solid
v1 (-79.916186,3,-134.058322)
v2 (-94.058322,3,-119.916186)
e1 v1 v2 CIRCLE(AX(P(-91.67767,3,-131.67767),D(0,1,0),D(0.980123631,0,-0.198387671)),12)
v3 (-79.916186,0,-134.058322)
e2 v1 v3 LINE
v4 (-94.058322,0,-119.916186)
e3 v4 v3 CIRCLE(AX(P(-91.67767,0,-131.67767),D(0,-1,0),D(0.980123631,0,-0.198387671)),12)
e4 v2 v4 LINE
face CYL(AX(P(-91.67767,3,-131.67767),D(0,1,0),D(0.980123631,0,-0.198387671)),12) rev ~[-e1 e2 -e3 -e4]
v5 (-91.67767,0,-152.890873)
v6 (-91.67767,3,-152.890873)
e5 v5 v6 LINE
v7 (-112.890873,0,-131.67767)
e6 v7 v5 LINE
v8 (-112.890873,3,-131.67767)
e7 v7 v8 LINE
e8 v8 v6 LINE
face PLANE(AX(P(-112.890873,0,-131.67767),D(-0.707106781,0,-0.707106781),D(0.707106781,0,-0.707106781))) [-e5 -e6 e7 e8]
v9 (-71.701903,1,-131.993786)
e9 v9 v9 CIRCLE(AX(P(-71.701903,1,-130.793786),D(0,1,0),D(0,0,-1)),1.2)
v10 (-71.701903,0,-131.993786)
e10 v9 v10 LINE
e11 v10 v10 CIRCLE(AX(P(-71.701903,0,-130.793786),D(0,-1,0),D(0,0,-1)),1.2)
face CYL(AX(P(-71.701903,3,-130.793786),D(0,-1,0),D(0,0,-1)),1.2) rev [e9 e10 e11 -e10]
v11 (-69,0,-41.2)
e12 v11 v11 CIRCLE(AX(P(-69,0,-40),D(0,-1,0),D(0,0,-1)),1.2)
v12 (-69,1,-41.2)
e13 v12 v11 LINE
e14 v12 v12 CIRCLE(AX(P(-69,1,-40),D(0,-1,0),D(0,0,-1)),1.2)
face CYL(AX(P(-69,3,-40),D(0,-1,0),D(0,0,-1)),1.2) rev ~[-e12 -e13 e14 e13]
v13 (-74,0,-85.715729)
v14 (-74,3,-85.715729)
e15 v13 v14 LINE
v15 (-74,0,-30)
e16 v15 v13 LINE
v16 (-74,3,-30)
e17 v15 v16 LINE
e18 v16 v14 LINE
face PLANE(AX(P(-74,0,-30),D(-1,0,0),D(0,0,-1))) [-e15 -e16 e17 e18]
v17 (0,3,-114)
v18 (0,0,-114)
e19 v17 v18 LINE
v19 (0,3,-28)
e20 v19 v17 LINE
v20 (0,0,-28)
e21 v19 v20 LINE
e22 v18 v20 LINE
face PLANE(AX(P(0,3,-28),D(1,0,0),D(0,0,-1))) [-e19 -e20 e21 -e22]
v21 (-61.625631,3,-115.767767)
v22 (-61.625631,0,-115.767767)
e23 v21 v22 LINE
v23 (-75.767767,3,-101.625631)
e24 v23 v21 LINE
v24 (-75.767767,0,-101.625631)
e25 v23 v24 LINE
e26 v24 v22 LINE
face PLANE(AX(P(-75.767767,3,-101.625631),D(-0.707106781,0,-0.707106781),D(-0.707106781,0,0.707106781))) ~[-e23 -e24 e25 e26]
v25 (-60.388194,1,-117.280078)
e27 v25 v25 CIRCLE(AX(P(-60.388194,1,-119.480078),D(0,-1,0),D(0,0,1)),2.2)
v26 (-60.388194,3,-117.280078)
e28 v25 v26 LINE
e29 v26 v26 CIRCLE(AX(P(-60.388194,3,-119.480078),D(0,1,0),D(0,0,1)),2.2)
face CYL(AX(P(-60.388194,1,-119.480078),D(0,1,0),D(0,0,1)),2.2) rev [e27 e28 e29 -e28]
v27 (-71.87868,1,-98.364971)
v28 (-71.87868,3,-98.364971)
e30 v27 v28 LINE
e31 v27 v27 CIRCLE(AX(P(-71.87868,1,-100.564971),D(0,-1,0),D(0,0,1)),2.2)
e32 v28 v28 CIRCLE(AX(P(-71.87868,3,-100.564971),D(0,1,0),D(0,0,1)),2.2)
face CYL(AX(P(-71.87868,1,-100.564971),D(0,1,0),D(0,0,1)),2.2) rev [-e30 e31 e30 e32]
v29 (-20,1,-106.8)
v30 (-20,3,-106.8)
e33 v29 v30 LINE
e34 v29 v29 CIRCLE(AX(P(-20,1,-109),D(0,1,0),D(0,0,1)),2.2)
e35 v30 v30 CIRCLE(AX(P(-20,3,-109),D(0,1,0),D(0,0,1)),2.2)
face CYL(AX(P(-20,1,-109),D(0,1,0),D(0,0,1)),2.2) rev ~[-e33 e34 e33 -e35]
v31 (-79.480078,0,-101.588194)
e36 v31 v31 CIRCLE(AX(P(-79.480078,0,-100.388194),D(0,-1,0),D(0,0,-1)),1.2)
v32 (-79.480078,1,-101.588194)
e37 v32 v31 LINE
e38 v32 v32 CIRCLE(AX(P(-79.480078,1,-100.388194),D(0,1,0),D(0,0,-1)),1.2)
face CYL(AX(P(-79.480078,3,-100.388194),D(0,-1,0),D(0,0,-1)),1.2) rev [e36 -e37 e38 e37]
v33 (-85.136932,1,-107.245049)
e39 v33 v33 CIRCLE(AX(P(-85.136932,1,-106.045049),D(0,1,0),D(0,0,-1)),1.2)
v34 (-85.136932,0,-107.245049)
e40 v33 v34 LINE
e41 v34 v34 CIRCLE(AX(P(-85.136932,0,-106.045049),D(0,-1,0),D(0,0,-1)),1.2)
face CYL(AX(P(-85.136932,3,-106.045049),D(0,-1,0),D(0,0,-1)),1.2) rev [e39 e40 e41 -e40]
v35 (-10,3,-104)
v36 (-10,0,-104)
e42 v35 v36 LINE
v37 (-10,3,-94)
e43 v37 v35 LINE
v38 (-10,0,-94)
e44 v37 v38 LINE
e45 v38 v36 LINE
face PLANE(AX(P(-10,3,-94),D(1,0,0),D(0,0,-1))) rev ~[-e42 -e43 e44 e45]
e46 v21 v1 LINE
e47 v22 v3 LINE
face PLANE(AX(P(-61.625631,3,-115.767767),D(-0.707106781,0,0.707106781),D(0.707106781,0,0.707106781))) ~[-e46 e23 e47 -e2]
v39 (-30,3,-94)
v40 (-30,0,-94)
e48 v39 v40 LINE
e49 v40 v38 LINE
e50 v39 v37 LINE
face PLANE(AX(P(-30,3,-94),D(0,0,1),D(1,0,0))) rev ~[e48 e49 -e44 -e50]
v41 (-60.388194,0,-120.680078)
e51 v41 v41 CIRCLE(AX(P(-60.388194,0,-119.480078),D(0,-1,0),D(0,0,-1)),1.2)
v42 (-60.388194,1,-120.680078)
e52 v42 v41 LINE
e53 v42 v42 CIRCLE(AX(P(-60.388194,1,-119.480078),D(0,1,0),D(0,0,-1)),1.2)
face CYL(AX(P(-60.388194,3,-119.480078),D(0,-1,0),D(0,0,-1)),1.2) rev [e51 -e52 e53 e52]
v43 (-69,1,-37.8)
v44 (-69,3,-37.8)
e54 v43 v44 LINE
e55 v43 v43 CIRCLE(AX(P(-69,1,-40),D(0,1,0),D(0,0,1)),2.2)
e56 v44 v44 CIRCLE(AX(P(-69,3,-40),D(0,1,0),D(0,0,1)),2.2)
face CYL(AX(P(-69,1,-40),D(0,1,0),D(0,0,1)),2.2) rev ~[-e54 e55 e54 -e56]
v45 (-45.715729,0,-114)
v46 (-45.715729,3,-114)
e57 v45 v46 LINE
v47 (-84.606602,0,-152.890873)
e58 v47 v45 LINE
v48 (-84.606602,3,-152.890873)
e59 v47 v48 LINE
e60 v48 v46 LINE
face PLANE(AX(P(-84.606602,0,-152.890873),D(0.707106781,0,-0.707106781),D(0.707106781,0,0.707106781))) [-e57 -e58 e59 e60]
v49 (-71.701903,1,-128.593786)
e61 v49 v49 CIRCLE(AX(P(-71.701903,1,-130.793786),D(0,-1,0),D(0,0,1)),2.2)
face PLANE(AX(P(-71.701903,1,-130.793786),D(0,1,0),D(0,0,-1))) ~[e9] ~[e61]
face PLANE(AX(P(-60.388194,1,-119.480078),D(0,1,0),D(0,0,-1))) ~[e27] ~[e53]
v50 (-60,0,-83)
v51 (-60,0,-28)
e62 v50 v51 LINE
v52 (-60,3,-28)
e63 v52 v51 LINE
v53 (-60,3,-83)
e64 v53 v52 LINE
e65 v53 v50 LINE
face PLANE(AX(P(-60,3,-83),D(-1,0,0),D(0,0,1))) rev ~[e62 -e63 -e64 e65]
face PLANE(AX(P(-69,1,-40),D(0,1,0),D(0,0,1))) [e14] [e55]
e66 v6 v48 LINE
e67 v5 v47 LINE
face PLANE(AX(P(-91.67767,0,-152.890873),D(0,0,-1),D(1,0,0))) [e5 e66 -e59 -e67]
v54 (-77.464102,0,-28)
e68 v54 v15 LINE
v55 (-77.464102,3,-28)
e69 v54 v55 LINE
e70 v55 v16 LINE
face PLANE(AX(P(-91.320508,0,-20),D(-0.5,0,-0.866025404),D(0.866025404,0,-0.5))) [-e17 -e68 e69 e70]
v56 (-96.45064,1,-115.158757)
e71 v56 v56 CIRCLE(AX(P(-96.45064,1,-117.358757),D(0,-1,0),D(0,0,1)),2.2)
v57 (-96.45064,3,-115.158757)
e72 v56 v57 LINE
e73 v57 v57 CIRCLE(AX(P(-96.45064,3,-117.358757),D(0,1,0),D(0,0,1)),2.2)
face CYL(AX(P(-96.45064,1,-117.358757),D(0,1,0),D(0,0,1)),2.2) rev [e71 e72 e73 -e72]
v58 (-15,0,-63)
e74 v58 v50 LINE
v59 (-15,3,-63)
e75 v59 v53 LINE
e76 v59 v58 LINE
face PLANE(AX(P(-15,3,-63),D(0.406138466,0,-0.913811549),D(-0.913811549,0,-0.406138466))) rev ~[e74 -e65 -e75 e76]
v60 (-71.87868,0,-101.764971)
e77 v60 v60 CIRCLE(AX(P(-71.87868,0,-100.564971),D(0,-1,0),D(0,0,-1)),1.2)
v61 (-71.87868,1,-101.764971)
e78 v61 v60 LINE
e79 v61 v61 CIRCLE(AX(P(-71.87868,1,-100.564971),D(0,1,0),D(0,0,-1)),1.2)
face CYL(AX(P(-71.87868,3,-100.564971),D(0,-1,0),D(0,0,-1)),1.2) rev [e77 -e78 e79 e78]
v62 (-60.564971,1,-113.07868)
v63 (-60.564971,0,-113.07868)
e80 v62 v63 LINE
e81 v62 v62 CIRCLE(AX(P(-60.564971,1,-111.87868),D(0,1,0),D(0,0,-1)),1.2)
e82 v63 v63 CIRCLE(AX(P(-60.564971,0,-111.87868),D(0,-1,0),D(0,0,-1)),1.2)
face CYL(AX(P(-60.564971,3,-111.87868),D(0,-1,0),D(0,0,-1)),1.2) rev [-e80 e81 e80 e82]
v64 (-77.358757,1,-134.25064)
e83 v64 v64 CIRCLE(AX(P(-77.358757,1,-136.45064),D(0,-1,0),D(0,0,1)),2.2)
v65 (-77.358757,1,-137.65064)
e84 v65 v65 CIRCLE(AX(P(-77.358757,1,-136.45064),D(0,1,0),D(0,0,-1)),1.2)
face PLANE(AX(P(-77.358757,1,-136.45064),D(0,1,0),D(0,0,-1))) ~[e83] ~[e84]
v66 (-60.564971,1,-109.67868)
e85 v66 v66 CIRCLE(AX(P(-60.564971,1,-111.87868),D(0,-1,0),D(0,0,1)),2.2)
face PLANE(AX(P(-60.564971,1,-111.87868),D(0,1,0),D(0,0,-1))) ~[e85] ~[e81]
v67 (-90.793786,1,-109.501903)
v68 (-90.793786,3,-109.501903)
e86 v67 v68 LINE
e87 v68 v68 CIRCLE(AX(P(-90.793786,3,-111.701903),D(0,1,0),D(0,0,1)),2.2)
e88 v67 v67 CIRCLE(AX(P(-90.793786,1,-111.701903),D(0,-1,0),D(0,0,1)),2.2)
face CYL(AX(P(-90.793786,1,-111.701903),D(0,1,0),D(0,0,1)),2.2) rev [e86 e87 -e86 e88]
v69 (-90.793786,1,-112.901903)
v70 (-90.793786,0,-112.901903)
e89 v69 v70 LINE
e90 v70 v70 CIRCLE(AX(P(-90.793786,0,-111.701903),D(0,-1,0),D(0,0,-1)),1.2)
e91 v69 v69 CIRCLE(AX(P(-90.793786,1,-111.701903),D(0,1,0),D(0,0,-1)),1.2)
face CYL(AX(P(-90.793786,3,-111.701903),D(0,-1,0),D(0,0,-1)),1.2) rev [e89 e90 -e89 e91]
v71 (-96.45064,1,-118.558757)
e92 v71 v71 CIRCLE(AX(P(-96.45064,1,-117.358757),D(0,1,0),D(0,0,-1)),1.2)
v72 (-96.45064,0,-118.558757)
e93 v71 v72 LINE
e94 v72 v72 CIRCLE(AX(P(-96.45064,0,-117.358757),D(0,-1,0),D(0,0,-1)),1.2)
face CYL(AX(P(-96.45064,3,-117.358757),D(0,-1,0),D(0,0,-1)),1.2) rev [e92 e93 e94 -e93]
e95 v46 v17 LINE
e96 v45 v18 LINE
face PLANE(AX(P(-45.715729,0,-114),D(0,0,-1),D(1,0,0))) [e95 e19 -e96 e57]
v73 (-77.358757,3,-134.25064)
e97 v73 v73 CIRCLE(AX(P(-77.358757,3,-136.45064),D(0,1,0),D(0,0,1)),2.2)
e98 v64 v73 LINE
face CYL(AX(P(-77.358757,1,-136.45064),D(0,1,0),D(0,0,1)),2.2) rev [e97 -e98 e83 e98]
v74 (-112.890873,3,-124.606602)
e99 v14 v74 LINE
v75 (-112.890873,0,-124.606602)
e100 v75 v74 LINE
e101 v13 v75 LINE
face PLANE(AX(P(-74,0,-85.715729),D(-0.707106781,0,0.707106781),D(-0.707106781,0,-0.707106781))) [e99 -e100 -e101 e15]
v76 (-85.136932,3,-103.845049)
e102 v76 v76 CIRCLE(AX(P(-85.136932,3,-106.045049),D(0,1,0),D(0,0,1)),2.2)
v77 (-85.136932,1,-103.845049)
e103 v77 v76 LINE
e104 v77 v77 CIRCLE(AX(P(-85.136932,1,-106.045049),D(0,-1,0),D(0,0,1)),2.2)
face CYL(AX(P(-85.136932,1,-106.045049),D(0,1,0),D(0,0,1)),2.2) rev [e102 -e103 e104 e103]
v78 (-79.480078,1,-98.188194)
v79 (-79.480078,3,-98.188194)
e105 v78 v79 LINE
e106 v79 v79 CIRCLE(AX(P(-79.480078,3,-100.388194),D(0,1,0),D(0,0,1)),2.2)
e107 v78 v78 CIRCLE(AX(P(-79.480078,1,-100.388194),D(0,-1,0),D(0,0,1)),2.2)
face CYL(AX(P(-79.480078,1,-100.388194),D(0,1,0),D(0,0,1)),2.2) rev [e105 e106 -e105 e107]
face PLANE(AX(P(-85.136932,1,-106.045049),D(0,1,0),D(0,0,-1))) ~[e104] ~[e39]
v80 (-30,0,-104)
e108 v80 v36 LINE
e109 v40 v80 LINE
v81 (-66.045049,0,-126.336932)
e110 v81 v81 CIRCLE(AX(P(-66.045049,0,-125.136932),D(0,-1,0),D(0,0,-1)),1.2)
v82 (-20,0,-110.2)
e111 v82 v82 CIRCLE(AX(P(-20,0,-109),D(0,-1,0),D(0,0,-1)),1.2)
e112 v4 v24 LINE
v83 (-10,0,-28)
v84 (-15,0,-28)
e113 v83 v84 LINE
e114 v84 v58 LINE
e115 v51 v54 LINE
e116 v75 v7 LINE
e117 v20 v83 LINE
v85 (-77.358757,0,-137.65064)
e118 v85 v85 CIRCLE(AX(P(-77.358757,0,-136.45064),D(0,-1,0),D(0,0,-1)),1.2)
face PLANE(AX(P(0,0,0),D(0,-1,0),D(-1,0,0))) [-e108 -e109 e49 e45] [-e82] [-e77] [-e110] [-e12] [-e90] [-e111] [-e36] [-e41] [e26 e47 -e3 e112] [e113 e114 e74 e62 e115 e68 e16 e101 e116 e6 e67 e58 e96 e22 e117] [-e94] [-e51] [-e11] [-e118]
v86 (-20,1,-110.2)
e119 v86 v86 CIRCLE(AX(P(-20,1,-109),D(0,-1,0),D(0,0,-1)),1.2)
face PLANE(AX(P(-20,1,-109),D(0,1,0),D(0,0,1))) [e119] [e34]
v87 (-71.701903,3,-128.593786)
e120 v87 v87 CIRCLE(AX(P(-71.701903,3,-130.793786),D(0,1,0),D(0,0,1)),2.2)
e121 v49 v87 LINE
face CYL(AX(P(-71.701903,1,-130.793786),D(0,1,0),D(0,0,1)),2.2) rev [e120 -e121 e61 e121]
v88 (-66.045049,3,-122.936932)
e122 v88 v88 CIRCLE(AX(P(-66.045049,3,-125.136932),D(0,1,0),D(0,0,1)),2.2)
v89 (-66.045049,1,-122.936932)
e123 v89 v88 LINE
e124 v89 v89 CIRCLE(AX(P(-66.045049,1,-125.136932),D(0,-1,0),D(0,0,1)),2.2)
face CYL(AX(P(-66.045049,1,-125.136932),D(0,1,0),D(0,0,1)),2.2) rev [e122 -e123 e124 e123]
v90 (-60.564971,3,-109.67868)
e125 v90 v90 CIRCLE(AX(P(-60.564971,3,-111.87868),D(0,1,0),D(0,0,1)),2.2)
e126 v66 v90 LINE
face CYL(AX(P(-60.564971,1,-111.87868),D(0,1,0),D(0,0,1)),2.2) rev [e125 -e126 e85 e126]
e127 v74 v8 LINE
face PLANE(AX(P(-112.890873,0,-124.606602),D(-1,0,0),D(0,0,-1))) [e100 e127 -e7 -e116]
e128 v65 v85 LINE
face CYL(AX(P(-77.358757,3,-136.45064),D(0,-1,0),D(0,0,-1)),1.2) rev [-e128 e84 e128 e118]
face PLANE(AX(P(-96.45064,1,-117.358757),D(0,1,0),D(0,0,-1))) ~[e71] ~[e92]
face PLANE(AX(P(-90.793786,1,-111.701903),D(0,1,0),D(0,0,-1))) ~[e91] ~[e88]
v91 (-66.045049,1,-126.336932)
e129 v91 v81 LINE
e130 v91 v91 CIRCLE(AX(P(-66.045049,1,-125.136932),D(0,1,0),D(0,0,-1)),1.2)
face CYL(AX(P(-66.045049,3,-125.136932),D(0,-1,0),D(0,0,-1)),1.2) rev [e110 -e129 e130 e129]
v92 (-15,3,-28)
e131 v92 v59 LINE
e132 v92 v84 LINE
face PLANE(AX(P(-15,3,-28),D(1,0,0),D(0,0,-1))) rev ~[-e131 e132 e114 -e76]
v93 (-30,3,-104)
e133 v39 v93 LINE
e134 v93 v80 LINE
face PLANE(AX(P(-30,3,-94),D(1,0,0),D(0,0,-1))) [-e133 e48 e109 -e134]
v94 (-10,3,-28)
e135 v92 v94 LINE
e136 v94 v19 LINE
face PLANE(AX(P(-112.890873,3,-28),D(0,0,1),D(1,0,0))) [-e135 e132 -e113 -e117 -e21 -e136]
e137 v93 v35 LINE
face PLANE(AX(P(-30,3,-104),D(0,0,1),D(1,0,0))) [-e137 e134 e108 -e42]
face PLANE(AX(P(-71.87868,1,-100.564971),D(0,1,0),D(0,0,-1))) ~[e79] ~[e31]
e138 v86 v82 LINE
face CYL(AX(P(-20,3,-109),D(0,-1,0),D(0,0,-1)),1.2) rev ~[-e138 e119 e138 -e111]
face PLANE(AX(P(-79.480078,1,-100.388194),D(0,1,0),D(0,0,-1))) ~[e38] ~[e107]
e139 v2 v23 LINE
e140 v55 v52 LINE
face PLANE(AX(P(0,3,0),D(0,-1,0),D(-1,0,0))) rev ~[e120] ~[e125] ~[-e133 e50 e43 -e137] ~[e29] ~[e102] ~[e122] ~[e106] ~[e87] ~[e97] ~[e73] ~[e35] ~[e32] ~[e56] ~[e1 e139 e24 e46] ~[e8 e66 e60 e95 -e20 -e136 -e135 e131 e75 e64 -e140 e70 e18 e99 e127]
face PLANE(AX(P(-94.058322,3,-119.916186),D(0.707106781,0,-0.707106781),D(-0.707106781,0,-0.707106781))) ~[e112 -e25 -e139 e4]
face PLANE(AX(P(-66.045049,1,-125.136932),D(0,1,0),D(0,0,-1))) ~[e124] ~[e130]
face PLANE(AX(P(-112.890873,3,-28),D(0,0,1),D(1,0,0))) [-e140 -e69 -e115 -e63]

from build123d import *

# Parameters (mm, degrees)
EXTRUDE_1_DEPTH              = 3
CUT_EXTRUDE_1_REACH          = 217.134
HOLE_WIZARD_M2_2_D           = 2.4
HOLE_WIZARD_M2_2_CBORE_D     = 4.4
HOLE_WIZARD_M2_2_CBORE_DEPTH = 2
CUT_EXTRUDE_2_REACH          = 217.134
HOLE_WIZARD_M2_3_D           = 2.4
HOLE_WIZARD_M2_3_CBORE_D     = 4.4
HOLE_WIZARD_M2_3_CBORE_DEPTH = 2
MIRROR_7_COPY_1_REACH        = 217.134
MIRROR_7_COPY_2_D            = 2.4
MIRROR_7_COPY_2_CBORE_D      = 4.4
MIRROR_7_COPY_2_CBORE_DEPTH  = 2
CUT_EXTRUDE_3_REACH          = 217.134
SKETCH_18_W                  = 20
SKETCH_18_H                  = 10
HOLE_WIZARD_M2_4_D           = 2.4
HOLE_WIZARD_M2_4_CBORE_D     = 4.4
HOLE_WIZARD_M2_4_CBORE_DEPTH = 2
HOLE_WIZARD_M2_5_D           = 2.4
HOLE_WIZARD_M2_5_CBORE_D     = 4.4
HOLE_WIZARD_M2_5_CBORE_DEPTH = 2
HOLE_WIZARD_M2_6_D           = 2.4
HOLE_WIZARD_M2_6_CBORE_D     = 4.4
HOLE_WIZARD_M2_6_CBORE_DEPTH = 2
SKETCH_24_W                  = 20
SKETCH_24_H                  = 56
CUT_EXTRUDE_4_DEPTH          = 10
HOLE_WIZARD_M2_7_D           = 2.4
HOLE_WIZARD_M2_7_CBORE_D     = 4.4
HOLE_WIZARD_M2_7_CBORE_DEPTH = 2
SKETCH_26_OUTSIDE_W          = 390.69
SKETCH_26_OUTSIDE_H          = 393.83
SKETCH_26_OUTSIDE_W_2        = 112.890872965
SKETCH_26_OUTSIDE_H_2        = 124.890872965
CUT_EXTRUDE_5_DEPTH          = 10


with BuildPart() as part:
    # 草图1 → 凸台-拉伸1 (new body)
    with BuildSketch(Plane(origin=(0, 0, 0), x_dir=(1, 0, 0), z_dir=(0, 1, 0))):
        Polygon((-45.715728753, 114), (45.715728753, 114), (84.606601718, 152.890872965), (91.67766953, 152.890872965), (112.890872965, 131.67766953), (112.890872965, 124.606601718), (74, 85.715728753), (74, 30), (91.320508076, 20), (146.320508076, 20), (151.320508076, 15), (151.320508076, -15), (146.320508076, -20), (91.320508076, -20), (74, -30), (74, -85.715728753), (112.890872965, -124.606601718), (112.890872965, -131.67766953), (91.67766953, -152.890872965), (84.606601718, -152.890872965), (45.715728753, -114), (-45.715728753, -114), (-84.606601718, -152.890872965), (-91.67766953, -152.890872965), (-112.890872965, -131.67766953), (-112.890872965, -124.606601718), (-74, -85.715728753), (-74, -30), (-91.320508076, -20), (-146.320508076, -20), (-151.320508076, -15), (-151.320508076, 15), (-146.320508076, 20), (-91.320508076, 20), (-74, 30), (-74, 85.715728753), (-112.890872965, 124.606601718), (-112.890872965, 131.67766953), (-91.67766953, 152.890872965), (-84.606601718, 152.890872965), align=None)
    extrude(amount=EXTRUDE_1_DEPTH)

    # 草图2 → 切除-拉伸1 (cut, up to next)
    with BuildSketch(Plane(origin=(0, 3, 0), x_dir=(1, 0, 0), z_dir=(0, 1, 0)), mode=Mode.PRIVATE) as cut_extrude_1_sk1:
        with BuildLine():
            Line((103.820508076, -10), (103.820508076, 10))
            Line((103.820508076, 10), (129.687258495, 10))
            ThreePointArc((129.687258495, 10), (148.320508076, 0), (129.687258495, -10))
            Line((129.687258495, -10), (103.820508076, -10))
        make_face()
    cut_extrude_1_tool1 = extrude(cut_extrude_1_sk1.sketch, amount=-CUT_EXTRUDE_1_REACH, mode=Mode.PRIVATE) & part.part
    cut_extrude_1 = cut_extrude_1_tool1.solids().sort_by_distance((125.74589, 3, 0))[0]
    add(cut_extrude_1, mode=Mode.SUBTRACT)

    # M2 凹头盖螺钉的柱形沉头孔2 (through all)
    with Locations(Plane(origin=(100.320508076, 3, -8), x_dir=(0, 0, 1), z_dir=(0, 1, 0))):
        with Locations((0, 0), (-5.5, 5.25), (-5.5, 13.25), (-5.5, 21.25), (-5.5, 29.25), (16, 0), (21.5, 5.25), (21.5, 13.25), (21.5, 21.25), (21.5, 29.25)):
            hole_wizard_m2_2 = CounterBoreHole(HOLE_WIZARD_M2_2_D / 2, HOLE_WIZARD_M2_2_CBORE_D / 2, HOLE_WIZARD_M2_2_CBORE_DEPTH)

    # 草图10 → 切除-拉伸2 (cut, up to next)
    with BuildSketch(Plane(origin=(0, 3, 0), x_dir=(1, 0, 0), z_dir=(0, 1, 0)), mode=Mode.PRIVATE) as cut_extrude_2_sk1:
        with BuildLine():
            Line((75.767766953, 101.625631329), (61.625631329, 115.767766953))
            Line((61.625631329, 115.767766953), (79.916185958, 134.058321582))
            ThreePointArc((79.916185958, 134.058321582), (100.162950904, 140.162950904), (94.058321582, 119.916185958))
            Line((94.058321582, 119.916185958), (75.767766953, 101.625631329))
        make_face()
    cut_extrude_2_tool1 = extrude(cut_extrude_2_sk1.sketch, amount=-CUT_EXTRUDE_2_REACH, mode=Mode.PRIVATE) & part.part
    cut_extrude_2 = cut_extrude_2_tool1.solids().sort_by_distance((84.200285, 3, -124.200285))[0]
    add(cut_extrude_2, mode=Mode.SUBTRACT)

    # M2 凹头盖螺钉的柱形沉头孔3 (through all)
    with Locations(Plane(origin=(60.388194462, 3, -119.480077554), x_dir=(0, 0, 1), z_dir=(0, 1, 0))):
        with Locations((0, 0), (-5.65685425, 5.65685425), (-11.313708499, 11.313708499), (-16.970562749, 16.970562749), (7.601397898, 0.176776695), (18.915106397, 11.490485194), (19.091883092, 19.091883092), (13.435028842, 24.748737342), (7.778174593, 30.405591591), (2.121320343, 36.062445841)):
            hole_wizard_m2_3 = CounterBoreHole(HOLE_WIZARD_M2_3_D / 2, HOLE_WIZARD_M2_3_CBORE_D / 2, HOLE_WIZARD_M2_3_CBORE_DEPTH)

    # 镜向5: 切除-拉伸1, M2 凹头盖螺钉的柱形沉头孔2 across plane
    add(cut_extrude_1.mirror(Plane(origin=(0, 0, 0), x_dir=(0, 0, 1), z_dir=(1, 0, 0))), mode=Mode.SUBTRACT)
    add(hole_wizard_m2_2.mirror(Plane(origin=(0, 0, 0), x_dir=(0, 0, 1), z_dir=(1, 0, 0))), mode=Mode.SUBTRACT)

    # 镜向6: 切除-拉伸2, M2 凹头盖螺钉的柱形沉头孔3 across plane
    add(cut_extrude_2.mirror(Plane(origin=(0, 0, 0), x_dir=(0, 0, 1), z_dir=(1, 0, 0))), mode=Mode.SUBTRACT)
    add(hole_wizard_m2_3.mirror(Plane(origin=(0, 0, 0), x_dir=(0, 0, 1), z_dir=(1, 0, 0))), mode=Mode.SUBTRACT)

    # 镜向7: 切除-拉伸2, M2 凹头盖螺钉的柱形沉头孔3 across plane
    add(cut_extrude_2.mirror(Plane.XY), mode=Mode.SUBTRACT)
    add(hole_wizard_m2_3.mirror(Plane.XY), mode=Mode.SUBTRACT)

    # 镜向7 copy 1 sketch → 镜向7 copy 1 (cut, up to next)
    with BuildSketch(Plane(origin=(0, 3, 0), x_dir=(-1, 0, 0), z_dir=(0, 1, 0)), mode=Mode.PRIVATE) as mirror_7_copy_1_sk1:
        with BuildLine():
            Line((75.767766953, 101.625631329), (61.625631329, 115.767766953))
            Line((61.625631329, 115.767766953), (79.916185958, 134.058321582))
            ThreePointArc((79.916185958, 134.058321582), (100.162950904, 140.162950904), (94.058321582, 119.916185958))
            Line((94.058321582, 119.916185958), (75.767766953, 101.625631329))
        make_face()
    mirror_7_copy_1_tool1 = extrude(mirror_7_copy_1_sk1.sketch, amount=-MIRROR_7_COPY_1_REACH, mode=Mode.PRIVATE) & part.part
    add(mirror_7_copy_1_tool1.solids().sort_by_distance((-84.200285, 3, 124.200285))[0], mode=Mode.SUBTRACT)

    # 镜向7 copy 2 (through all)
    with Locations(Plane(origin=(-60.388194462, 3, 119.480077554), x_dir=(0, 0, -1), z_dir=(0, 1, 0))):
        with Locations((0, 0), (-5.65685425, 5.65685425), (-11.313708499, 11.313708499), (-16.970562749, 16.970562749), (7.601397898, 0.176776695), (18.915106397, 11.490485194), (19.091883092, 19.091883092), (13.435028842, 24.748737342), (7.778174593, 30.405591591), (2.121320343, 36.062445841)):
            CounterBoreHole(MIRROR_7_COPY_2_D / 2, MIRROR_7_COPY_2_CBORE_D / 2, MIRROR_7_COPY_2_CBORE_DEPTH)

    # 草图18 → 切除-拉伸3 (cut, up to next)
    with BuildSketch(Plane(origin=(0, 3, 0), x_dir=(1, 0, 0), z_dir=(0, 1, 0)), mode=Mode.PRIVATE) as cut_extrude_3_sk1:
        Polygon((-60, -28), (-15, -28), (-15, -63), (-60, -83), align=None)
    cut_extrude_3_tool1 = extrude(cut_extrude_3_sk1.sketch, amount=-CUT_EXTRUDE_3_REACH, mode=Mode.PRIVATE) & part.part
    # 草图18 → 切除-拉伸3 (cut, up to next)
    with BuildSketch(Plane(origin=(0, 3, 0), x_dir=(1, 0, 0), z_dir=(0, 1, 0)), mode=Mode.PRIVATE) as cut_extrude_3_sk2:
        with Locations((20, -99)):
            Rectangle(SKETCH_18_W, SKETCH_18_H)
    cut_extrude_3_tool2 = extrude(cut_extrude_3_sk2.sketch, amount=-CUT_EXTRUDE_3_REACH, mode=Mode.PRIVATE) & part.part
    # 草图18 → 切除-拉伸3 (cut, up to next)
    with BuildSketch(Plane(origin=(0, 3, 0), x_dir=(1, 0, 0), z_dir=(0, 1, 0)), mode=Mode.PRIVATE) as cut_extrude_3_sk3:
        with Locations((-20, -99)):
            Rectangle(SKETCH_18_W, SKETCH_18_H)
    cut_extrude_3_tool3 = extrude(cut_extrude_3_sk3.sketch, amount=-CUT_EXTRUDE_3_REACH, mode=Mode.PRIVATE) & part.part
    # 草图18 → 切除-拉伸3 (cut, up to next)
    with BuildSketch(Plane(origin=(0, 3, 0), x_dir=(1, 0, 0), z_dir=(0, 1, 0)), mode=Mode.PRIVATE) as cut_extrude_3_sk4:
        Polygon((15, -63), (60, -83), (60, -28), (15, -28), align=None)
    cut_extrude_3_tool4 = extrude(cut_extrude_3_sk4.sketch, amount=-CUT_EXTRUDE_3_REACH, mode=Mode.PRIVATE) & part.part
    # 草图18 → 切除-拉伸3 (cut, up to next)
    with BuildSketch(Plane(origin=(0, 3, 0), x_dir=(1, 0, 0), z_dir=(0, 1, 0)), mode=Mode.PRIVATE) as cut_extrude_3_sk5:
        with Locations((-20, 99)):
            Rectangle(SKETCH_18_W, SKETCH_18_H)
    cut_extrude_3_tool5 = extrude(cut_extrude_3_sk5.sketch, amount=-CUT_EXTRUDE_3_REACH, mode=Mode.PRIVATE) & part.part
    # 草图18 → 切除-拉伸3 (cut, up to next)
    with BuildSketch(Plane(origin=(0, 3, 0), x_dir=(1, 0, 0), z_dir=(0, 1, 0)), mode=Mode.PRIVATE) as cut_extrude_3_sk6:
        with Locations((20, 99)):
            Rectangle(SKETCH_18_W, SKETCH_18_H)
    cut_extrude_3_tool6 = extrude(cut_extrude_3_sk6.sketch, amount=-CUT_EXTRUDE_3_REACH, mode=Mode.PRIVATE) & part.part
    # 草图18 → 切除-拉伸3 (cut, up to next)
    with BuildSketch(Plane(origin=(0, 3, 0), x_dir=(1, 0, 0), z_dir=(0, 1, 0)), mode=Mode.PRIVATE) as cut_extrude_3_sk7:
        Polygon((15, 63), (60, 83), (60, 28), (15, 28), align=None)
    cut_extrude_3_tool7 = extrude(cut_extrude_3_sk7.sketch, amount=-CUT_EXTRUDE_3_REACH, mode=Mode.PRIVATE) & part.part
    # 草图18 → 切除-拉伸3 (cut, up to next)
    with BuildSketch(Plane(origin=(0, 3, 0), x_dir=(1, 0, 0), z_dir=(0, 1, 0)), mode=Mode.PRIVATE) as cut_extrude_3_sk8:
        Polygon((-15, 28), (-15, 63), (-60, 83), (-60, 28), align=None)
    cut_extrude_3_tool8 = extrude(cut_extrude_3_sk8.sketch, amount=-CUT_EXTRUDE_3_REACH, mode=Mode.PRIVATE) & part.part
    add(cut_extrude_3_tool1.solids().sort_by_distance((-39.166667, 3, 50.87037))[0], mode=Mode.SUBTRACT)
    add(cut_extrude_3_tool2.solids().sort_by_distance((20, 3, 99))[0], mode=Mode.SUBTRACT)
    add(cut_extrude_3_tool3.solids().sort_by_distance((-20, 3, 99))[0], mode=Mode.SUBTRACT)
    add(cut_extrude_3_tool4.solids().sort_by_distance((39.166667, 3, 50.87037))[0], mode=Mode.SUBTRACT)
    add(cut_extrude_3_tool5.solids().sort_by_distance((-20, 3, -99))[0], mode=Mode.SUBTRACT)
    add(cut_extrude_3_tool6.solids().sort_by_distance((20, 3, -99))[0], mode=Mode.SUBTRACT)
    add(cut_extrude_3_tool7.solids().sort_by_distance((39.166667, 3, -50.87037))[0], mode=Mode.SUBTRACT)
    add(cut_extrude_3_tool8.solids().sort_by_distance((-39.166667, 3, -50.87037))[0], mode=Mode.SUBTRACT)

    # M2 凹头盖螺钉的柱形沉头孔4 (through all)
    with Locations(Plane(origin=(-20, 3, 109), x_dir=(0, 0, 1), z_dir=(0, 1, 0))):
        with Locations((0, 0), (0, 40), (-218, 0), (-218, 40)):
            CounterBoreHole(HOLE_WIZARD_M2_4_D / 2, HOLE_WIZARD_M2_4_CBORE_D / 2, HOLE_WIZARD_M2_4_CBORE_DEPTH)

    # M2 凹头盖螺钉的柱形沉头孔5 (through all)
    with Locations(Plane(origin=(-69, 3, -40), x_dir=(0, 0, 1), z_dir=(0, 1, 0))):
        with Locations((0, 0), (0, 138)):
            hole_wizard_m2_5 = CounterBoreHole(HOLE_WIZARD_M2_5_D / 2, HOLE_WIZARD_M2_5_CBORE_D / 2, HOLE_WIZARD_M2_5_CBORE_DEPTH)

    # 镜向8: M2 凹头盖螺钉的柱形沉头孔5 across plane
    add(hole_wizard_m2_5.mirror(Plane.XY), mode=Mode.SUBTRACT)

    # M2 凹头盖螺钉的柱形沉头孔6 (through all)
    with Locations(Plane(origin=(-69, 3, 0), x_dir=(0, 0, 1), z_dir=(0, 1, 0))):
        with Locations((0, 0), (0, 138)):
            CounterBoreHole(HOLE_WIZARD_M2_6_D / 2, HOLE_WIZARD_M2_6_CBORE_D / 2, HOLE_WIZARD_M2_6_CBORE_DEPTH)

    # 草图24 → 切除-拉伸4 (cut)
    with BuildSketch(Plane(origin=(0, 3, 0), x_dir=(1, 0, 0), z_dir=(0, 1, 0))):
        Rectangle(SKETCH_24_W, SKETCH_24_H)
    extrude(amount=-CUT_EXTRUDE_4_DEPTH, mode=Mode.SUBTRACT)

    # M2 凹头盖螺钉的柱形沉头孔7 (through all)
    with Locations(Plane(origin=(-20, 3, 0), x_dir=(0, 0, 1), z_dir=(0, 1, 0))):
        with Locations((0, 0), (0, 40)):
            CounterBoreHole(HOLE_WIZARD_M2_7_D / 2, HOLE_WIZARD_M2_7_CBORE_D / 2, HOLE_WIZARD_M2_7_CBORE_DEPTH)

    # 草图26 outside → 切除-拉伸5 (cut)
    with BuildSketch(Plane(origin=(0, 3, 0), x_dir=(1, 0, 0), z_dir=(0, 1, 0))):
        Rectangle(SKETCH_26_OUTSIDE_W, SKETCH_26_OUTSIDE_H)
        with Locations((-56.445436483, 90.445436482)):
            Rectangle(SKETCH_26_OUTSIDE_W_2, SKETCH_26_OUTSIDE_H_2, mode=Mode.SUBTRACT)
    extrude(amount=-CUT_EXTRUDE_5_DEPTH, mode=Mode.SUBTRACT)


solid = part.part
